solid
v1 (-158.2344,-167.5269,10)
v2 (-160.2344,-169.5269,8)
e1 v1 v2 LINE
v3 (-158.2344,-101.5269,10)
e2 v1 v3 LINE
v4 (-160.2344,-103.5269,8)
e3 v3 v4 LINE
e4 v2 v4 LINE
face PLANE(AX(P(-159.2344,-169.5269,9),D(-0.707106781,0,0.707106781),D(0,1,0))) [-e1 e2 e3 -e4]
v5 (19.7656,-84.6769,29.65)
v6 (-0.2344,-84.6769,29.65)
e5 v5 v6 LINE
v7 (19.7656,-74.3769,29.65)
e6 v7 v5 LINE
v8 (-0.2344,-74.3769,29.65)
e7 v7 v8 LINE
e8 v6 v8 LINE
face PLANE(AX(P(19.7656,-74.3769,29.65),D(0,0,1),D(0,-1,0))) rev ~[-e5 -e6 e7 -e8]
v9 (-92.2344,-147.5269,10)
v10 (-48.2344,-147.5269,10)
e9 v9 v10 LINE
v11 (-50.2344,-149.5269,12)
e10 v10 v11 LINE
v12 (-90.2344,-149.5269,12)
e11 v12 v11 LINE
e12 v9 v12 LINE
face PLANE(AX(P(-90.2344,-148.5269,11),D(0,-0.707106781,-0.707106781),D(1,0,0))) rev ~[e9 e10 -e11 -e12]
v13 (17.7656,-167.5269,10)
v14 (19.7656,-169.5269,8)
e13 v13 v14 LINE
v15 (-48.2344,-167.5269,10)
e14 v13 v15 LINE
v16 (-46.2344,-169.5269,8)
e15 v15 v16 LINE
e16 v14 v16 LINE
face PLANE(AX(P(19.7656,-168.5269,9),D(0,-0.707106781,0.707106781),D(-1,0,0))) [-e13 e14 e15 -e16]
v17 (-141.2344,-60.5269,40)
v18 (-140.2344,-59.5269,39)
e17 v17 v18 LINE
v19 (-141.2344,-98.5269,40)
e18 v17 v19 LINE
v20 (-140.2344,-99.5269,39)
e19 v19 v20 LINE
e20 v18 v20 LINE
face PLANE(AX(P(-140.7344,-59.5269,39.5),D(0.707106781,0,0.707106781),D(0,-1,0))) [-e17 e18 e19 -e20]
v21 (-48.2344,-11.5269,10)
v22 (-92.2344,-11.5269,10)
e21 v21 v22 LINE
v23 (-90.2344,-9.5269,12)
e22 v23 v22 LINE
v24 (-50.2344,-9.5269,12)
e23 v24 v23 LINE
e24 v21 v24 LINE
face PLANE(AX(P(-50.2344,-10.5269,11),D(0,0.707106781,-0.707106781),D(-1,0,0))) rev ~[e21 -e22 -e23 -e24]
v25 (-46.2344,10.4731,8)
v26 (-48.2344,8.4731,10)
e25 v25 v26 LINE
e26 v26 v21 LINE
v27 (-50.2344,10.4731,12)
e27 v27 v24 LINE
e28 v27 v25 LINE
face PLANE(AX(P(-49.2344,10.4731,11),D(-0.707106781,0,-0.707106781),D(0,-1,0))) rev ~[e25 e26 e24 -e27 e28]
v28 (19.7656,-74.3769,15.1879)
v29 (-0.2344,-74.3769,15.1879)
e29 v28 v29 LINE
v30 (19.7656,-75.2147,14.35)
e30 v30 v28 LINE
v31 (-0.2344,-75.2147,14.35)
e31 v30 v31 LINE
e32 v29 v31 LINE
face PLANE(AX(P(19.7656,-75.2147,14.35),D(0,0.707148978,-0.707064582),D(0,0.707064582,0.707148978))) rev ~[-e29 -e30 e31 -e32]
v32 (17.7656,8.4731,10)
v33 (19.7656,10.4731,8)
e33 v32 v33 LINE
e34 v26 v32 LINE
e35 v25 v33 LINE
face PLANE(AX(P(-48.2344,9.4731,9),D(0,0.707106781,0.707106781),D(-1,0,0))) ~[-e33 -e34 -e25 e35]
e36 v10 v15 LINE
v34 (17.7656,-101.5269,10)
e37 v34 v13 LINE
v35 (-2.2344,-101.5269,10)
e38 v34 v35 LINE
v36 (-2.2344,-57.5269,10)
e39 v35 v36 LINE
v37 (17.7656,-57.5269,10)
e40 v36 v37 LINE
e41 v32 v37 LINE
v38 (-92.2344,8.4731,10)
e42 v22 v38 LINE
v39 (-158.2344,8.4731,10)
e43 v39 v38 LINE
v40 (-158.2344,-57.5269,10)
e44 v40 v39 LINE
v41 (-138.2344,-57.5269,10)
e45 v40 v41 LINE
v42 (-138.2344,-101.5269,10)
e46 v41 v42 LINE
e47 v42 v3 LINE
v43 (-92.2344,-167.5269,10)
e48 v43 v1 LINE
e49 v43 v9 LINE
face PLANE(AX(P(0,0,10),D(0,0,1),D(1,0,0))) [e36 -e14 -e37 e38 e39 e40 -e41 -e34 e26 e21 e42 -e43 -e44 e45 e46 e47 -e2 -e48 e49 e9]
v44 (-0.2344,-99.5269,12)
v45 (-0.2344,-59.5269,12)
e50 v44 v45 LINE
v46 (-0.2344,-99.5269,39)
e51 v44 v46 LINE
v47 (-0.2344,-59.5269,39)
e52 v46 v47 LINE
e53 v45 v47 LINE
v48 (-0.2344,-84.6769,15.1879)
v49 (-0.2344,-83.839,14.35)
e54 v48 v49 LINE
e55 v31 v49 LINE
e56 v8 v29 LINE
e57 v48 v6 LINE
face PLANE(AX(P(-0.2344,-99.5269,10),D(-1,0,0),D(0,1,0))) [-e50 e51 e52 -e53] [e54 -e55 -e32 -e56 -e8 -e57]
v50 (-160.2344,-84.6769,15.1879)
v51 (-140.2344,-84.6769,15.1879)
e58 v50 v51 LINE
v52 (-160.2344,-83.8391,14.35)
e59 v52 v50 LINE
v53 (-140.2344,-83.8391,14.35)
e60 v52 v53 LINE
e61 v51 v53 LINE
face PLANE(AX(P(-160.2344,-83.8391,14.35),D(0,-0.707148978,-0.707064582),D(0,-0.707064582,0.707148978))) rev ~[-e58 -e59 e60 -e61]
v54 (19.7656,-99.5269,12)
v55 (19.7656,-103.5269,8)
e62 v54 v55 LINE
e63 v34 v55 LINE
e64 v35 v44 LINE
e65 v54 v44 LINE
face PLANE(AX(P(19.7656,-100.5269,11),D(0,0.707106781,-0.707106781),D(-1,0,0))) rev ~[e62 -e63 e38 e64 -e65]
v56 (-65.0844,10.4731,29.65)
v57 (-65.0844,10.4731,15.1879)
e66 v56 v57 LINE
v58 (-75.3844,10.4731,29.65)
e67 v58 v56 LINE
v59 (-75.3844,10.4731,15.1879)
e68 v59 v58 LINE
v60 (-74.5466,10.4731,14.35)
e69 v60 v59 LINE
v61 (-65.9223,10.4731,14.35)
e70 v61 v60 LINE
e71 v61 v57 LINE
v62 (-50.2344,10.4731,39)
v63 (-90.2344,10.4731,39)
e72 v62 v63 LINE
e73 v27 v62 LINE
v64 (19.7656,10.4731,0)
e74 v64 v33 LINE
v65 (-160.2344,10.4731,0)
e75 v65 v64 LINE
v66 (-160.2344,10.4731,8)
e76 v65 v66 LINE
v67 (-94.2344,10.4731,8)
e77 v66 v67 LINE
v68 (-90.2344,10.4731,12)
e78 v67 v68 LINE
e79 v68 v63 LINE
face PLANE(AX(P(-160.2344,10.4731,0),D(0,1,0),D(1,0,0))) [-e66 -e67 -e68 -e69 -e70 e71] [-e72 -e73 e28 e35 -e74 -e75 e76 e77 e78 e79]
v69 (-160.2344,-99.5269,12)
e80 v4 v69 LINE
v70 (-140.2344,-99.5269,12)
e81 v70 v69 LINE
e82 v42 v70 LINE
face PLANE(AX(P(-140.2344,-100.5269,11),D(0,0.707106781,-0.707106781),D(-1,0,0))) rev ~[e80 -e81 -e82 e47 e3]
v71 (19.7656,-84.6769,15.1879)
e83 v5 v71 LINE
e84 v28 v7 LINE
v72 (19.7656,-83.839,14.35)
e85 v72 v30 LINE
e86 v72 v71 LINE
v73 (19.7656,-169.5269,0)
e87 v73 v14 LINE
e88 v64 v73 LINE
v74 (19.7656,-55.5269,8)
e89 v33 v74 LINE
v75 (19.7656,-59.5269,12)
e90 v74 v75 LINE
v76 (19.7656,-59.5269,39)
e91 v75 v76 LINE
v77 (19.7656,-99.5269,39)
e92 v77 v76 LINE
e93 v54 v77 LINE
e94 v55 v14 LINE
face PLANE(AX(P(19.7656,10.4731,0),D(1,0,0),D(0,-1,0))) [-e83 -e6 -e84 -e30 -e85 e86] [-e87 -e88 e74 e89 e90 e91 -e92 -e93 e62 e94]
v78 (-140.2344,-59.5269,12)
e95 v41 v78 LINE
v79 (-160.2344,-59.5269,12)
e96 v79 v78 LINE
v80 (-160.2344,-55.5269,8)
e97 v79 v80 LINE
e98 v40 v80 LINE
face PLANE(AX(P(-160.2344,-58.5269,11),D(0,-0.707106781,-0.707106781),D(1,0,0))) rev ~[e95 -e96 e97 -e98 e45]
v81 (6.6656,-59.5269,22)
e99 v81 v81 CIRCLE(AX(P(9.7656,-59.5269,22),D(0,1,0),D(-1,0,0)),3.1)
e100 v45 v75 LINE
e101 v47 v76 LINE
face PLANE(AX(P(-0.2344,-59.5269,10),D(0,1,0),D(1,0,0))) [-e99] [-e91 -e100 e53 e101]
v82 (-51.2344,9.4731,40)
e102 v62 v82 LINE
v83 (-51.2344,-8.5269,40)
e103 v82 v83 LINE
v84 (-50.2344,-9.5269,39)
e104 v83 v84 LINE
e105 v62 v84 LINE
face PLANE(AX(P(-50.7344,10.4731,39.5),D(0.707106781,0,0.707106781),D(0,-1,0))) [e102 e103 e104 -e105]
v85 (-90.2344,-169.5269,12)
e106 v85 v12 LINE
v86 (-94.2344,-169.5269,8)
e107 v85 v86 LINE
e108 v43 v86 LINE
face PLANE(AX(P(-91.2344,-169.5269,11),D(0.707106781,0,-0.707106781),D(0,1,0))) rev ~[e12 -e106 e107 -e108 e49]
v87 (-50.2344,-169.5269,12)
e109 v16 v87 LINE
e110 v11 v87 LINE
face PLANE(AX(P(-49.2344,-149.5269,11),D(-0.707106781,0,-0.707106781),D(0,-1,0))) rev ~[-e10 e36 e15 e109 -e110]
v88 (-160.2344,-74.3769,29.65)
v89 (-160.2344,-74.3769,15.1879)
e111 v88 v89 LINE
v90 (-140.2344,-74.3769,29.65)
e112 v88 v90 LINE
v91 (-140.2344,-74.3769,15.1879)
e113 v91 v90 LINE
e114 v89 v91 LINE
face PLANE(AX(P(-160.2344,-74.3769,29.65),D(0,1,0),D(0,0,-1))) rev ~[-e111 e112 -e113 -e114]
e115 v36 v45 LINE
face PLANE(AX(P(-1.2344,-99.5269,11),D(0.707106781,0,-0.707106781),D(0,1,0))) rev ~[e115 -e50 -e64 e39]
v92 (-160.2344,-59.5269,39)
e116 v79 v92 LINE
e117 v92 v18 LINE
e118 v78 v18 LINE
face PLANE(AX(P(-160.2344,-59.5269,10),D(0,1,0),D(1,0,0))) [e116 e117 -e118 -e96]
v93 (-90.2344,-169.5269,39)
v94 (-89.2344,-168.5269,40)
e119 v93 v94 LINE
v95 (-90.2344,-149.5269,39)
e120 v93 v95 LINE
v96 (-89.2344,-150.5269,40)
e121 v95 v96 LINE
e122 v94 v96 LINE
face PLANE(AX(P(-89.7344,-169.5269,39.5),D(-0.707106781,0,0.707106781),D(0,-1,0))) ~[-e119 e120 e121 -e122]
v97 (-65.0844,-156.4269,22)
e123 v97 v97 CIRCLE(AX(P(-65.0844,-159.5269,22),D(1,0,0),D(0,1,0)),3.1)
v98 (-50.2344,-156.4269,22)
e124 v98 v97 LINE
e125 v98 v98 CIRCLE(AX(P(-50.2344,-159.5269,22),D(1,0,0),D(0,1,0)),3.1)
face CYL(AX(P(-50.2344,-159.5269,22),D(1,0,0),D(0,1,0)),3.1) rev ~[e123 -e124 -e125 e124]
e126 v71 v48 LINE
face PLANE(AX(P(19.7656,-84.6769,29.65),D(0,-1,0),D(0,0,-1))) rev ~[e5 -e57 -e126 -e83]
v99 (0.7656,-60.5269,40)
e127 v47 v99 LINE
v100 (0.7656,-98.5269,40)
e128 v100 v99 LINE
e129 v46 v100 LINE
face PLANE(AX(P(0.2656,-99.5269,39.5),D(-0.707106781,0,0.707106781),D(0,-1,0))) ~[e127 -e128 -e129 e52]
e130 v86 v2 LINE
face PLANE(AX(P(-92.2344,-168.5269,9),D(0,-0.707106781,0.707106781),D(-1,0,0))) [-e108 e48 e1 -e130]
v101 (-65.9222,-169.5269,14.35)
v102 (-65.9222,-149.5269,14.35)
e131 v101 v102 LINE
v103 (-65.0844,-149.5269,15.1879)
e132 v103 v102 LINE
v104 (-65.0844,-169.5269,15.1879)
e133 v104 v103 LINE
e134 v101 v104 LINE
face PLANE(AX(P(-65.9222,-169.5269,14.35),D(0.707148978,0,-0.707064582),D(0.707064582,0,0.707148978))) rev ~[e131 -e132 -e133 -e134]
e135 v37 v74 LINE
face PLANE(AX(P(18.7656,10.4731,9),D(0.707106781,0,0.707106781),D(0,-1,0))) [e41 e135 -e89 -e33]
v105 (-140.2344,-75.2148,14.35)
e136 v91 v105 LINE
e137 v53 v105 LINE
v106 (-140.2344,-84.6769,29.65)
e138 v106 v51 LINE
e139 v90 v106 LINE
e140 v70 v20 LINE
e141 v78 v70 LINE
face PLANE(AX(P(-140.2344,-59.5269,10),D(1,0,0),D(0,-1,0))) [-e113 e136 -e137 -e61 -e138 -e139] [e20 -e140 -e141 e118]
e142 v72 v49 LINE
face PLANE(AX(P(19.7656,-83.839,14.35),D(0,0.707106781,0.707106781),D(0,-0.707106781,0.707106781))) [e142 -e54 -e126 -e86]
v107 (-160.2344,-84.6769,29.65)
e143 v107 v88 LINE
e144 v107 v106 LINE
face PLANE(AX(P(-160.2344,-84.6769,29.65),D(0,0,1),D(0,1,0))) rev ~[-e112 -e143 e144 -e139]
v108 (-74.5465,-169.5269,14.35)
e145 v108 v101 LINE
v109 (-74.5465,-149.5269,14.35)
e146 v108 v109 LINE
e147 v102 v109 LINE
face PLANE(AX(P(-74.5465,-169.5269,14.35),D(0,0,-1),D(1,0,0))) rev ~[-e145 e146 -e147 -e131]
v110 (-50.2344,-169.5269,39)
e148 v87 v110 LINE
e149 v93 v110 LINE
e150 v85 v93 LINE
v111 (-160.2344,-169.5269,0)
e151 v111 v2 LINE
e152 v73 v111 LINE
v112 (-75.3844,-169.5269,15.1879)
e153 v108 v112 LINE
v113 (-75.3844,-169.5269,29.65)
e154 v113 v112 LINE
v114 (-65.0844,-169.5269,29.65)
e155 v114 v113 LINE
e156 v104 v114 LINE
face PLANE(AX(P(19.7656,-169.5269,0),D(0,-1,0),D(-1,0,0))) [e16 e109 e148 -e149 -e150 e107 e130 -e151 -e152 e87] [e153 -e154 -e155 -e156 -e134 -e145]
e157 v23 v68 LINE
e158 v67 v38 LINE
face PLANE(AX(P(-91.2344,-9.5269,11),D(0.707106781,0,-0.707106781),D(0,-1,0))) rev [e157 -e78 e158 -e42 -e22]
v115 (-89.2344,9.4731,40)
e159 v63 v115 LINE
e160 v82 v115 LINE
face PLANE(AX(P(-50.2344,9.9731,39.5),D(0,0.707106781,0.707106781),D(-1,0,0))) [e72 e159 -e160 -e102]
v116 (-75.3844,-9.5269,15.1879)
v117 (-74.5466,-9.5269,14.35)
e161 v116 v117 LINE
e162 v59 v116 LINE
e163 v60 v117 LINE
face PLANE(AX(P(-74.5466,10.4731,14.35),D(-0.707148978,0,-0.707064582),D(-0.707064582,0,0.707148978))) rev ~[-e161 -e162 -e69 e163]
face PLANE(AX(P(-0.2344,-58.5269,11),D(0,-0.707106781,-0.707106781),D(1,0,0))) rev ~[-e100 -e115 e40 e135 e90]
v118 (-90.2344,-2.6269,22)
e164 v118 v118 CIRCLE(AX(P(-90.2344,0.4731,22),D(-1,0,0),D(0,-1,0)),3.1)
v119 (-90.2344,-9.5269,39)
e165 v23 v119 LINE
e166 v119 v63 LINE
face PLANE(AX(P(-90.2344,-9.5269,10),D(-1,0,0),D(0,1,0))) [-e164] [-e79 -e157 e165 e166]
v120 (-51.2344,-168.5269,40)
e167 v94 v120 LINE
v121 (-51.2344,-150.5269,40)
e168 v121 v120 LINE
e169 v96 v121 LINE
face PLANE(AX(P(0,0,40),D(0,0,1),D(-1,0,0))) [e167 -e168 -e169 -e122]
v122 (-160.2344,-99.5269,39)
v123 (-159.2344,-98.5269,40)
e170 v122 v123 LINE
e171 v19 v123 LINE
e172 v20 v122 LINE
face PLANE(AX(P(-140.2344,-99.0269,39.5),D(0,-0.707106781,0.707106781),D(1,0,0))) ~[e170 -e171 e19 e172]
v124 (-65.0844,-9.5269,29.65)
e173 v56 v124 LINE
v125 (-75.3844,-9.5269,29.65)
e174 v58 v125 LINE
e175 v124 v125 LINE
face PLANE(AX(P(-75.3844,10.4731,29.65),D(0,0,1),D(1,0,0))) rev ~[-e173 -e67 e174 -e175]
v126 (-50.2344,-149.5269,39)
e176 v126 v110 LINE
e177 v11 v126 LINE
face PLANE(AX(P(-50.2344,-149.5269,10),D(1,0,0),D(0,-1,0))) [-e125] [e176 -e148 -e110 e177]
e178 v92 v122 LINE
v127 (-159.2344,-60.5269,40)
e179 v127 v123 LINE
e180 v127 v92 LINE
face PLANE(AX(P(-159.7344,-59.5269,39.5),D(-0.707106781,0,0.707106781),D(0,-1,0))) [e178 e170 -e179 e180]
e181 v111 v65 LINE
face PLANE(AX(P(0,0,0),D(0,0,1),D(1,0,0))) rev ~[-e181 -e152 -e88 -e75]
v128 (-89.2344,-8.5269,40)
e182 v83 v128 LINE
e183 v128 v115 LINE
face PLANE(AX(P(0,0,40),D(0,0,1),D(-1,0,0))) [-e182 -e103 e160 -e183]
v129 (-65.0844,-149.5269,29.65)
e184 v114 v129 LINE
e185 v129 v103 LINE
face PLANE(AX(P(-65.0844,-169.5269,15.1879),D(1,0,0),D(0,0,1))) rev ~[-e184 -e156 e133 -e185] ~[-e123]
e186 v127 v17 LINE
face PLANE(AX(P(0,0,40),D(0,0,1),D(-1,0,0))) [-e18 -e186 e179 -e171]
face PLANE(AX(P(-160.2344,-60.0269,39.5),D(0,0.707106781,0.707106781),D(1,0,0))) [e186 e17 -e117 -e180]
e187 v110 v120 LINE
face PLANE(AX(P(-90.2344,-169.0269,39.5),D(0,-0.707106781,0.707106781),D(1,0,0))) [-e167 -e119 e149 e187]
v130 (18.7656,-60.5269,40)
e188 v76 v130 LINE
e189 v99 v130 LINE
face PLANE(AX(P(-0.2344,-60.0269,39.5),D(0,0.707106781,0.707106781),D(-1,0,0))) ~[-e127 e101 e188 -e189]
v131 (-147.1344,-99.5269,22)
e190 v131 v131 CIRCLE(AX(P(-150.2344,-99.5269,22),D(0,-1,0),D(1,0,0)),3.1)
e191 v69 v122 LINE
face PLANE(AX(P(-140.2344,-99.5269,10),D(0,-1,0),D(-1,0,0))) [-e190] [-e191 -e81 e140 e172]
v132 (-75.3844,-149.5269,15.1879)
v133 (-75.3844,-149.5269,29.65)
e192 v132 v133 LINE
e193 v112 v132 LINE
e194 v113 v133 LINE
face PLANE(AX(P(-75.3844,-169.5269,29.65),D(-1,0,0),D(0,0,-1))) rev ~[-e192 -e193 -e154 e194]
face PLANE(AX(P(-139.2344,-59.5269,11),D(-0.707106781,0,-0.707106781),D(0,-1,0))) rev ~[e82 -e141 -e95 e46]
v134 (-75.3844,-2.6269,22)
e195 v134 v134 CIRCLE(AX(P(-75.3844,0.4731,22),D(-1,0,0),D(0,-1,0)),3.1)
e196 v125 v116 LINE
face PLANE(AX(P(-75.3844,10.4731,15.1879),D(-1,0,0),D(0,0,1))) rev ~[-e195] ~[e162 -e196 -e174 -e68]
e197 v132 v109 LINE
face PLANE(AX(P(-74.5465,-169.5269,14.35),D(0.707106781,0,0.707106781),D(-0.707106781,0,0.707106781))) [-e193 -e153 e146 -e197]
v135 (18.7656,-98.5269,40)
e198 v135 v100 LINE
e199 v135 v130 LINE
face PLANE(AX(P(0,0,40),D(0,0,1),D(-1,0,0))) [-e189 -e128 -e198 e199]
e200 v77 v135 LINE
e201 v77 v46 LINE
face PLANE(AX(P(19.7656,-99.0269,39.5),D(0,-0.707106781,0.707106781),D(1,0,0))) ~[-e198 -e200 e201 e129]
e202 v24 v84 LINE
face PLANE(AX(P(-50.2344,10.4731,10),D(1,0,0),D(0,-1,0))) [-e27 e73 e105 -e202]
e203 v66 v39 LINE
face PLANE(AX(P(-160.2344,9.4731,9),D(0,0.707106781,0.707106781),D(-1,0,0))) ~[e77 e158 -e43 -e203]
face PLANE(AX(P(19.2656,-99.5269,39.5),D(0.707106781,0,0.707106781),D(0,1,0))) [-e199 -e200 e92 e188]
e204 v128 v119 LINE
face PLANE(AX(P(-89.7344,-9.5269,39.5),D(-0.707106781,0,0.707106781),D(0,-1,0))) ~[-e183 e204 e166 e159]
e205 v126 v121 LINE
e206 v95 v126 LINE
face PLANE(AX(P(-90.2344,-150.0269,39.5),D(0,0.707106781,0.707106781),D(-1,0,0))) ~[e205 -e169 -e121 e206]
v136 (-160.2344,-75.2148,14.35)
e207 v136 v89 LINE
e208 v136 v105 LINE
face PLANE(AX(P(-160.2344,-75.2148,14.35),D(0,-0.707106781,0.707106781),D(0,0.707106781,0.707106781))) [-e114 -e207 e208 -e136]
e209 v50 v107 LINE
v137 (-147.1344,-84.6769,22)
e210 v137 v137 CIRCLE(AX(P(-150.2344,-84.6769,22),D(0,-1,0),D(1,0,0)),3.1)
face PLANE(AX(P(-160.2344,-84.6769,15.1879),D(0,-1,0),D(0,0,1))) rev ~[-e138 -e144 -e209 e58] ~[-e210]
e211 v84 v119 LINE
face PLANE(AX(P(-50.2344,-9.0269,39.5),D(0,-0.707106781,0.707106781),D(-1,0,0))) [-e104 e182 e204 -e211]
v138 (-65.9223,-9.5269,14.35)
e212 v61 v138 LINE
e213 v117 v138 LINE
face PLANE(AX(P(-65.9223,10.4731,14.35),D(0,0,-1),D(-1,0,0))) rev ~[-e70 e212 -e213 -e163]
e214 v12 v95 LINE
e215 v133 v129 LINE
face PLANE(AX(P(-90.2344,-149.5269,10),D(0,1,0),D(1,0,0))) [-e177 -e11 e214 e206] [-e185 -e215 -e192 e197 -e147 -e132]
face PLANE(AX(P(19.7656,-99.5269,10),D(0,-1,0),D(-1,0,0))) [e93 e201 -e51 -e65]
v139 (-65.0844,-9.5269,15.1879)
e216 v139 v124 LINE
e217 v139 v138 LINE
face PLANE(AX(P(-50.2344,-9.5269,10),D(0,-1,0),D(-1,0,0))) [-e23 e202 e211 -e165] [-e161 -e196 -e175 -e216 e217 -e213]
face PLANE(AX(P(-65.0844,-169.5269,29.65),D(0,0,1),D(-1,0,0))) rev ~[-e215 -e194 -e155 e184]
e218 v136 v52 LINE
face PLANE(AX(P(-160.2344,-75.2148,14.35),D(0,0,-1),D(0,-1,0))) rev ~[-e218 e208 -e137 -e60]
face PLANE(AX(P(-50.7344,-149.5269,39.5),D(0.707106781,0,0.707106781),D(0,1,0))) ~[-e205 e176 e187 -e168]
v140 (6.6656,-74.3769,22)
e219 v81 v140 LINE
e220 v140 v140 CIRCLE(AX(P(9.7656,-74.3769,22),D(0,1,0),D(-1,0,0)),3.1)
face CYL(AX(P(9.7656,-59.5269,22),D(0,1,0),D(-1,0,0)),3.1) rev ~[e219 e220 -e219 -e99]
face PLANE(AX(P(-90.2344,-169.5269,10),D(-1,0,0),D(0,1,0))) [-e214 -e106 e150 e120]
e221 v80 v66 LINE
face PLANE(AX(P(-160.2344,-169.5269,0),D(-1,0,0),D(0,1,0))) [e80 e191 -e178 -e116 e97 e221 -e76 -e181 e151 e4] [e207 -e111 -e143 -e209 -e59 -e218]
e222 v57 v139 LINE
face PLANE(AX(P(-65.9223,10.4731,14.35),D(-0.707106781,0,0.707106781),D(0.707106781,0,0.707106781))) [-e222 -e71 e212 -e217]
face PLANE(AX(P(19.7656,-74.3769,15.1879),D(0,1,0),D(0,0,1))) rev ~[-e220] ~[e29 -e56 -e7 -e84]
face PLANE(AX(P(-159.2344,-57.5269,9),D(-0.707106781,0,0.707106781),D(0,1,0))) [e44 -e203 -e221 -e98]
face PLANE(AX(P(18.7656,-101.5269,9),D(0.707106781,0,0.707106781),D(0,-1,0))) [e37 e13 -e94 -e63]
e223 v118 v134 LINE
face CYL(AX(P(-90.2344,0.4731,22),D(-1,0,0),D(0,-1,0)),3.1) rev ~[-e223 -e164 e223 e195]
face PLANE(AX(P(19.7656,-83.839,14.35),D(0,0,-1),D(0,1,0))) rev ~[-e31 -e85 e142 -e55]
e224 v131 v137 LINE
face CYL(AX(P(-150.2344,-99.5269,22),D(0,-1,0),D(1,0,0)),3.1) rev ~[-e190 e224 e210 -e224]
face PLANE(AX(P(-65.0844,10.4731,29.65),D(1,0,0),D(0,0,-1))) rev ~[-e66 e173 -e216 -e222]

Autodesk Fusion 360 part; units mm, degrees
sketch "Sketch1" plane through (0, 0, 0) normal (0, 0, 1) x (1, 0, 0)
  line L0 (-160.2344, 10.4731) -> (19.7656, 10.4731)
  line L1 (19.7656, 10.4731) -> (19.7656, -169.5269)
  line L2 (19.7656, -169.5269) -> (-160.2344, -169.5269)
  line L3 (-160.2344, -169.5269) -> (-160.2344, 10.4731)
  dimension "d1" = 180
  dimension "d2" = 180
extrude "Extrude1" add sketch "Sketch1" along normal blind 10
sketch "Sketch2" plane through (0, 0, 10) normal (0, 0, 1) x (-1, 0, 0)
  line L0 (160.2344, 169.5269) -> (-19.7656, 169.5269)
  line L1 (-19.7656, 169.5269) -> (-19.7656, -10.4731)
  line L2 (-19.7656, -10.4731) -> (160.2344, -10.4731)
  line L3 (160.2344, -10.4731) -> (160.2344, 169.5269)
  line L4 (160.2344, 59.5269) -> (140.2344, 59.5269)
  line L5 (140.2344, 59.5269) -> (140.2344, 99.5269)
  line L6 (140.2344, 99.5269) -> (160.2344, 99.5269)
  line L7 (160.2344, 99.5269) -> (160.2344, 59.5269)
  line L8 (0.2344, 59.5269) -> (-19.7656, 59.5269)
  line L9 (-19.7656, 59.5269) -> (-19.7656, 99.5269)
  line L10 (-19.7656, 99.5269) -> (0.2344, 99.5269)
  line L11 (0.2344, 99.5269) -> (0.2344, 59.5269)
  line L12 (90.2344, -10.4731) -> (50.2344, -10.4731)
  line L13 (50.2344, -10.4731) -> (50.2344, 9.5269)
  line L14 (50.2344, 9.5269) -> (90.2344, 9.5269)
  line L15 (90.2344, 9.5269) -> (90.2344, -10.4731)
  line L16 (90.2344, 149.5269) -> (50.2344, 149.5269)
  line L17 (50.2344, 149.5269) -> (50.2344, 169.5269)
  line L18 (50.2344, 169.5269) -> (90.2344, 169.5269)
  line L19 (90.2344, 169.5269) -> (90.2344, 149.5269)
  dimension "d5" = 20
  dimension "d6" = 20
  dimension "d7" = 20
  dimension "d8" = 20
  dimension "d9" = 40
  dimension "d10" = 40
  dimension "d11" = 40
  dimension "d12" = 40
  dimension "d13" = 70
  dimension "d14" = 70
  dimension "d15" = 70
  dimension "d16" = 70
extrude "Extrude2" add sketch "Sketch2" along normal blind 30 contours L0 L16 L17 L18 L19 | L3 L4 L5 L6 L7 | L1 L8 L9 L10 L11 | L2 L12 L13 L14 L15
sketch "Sketch3" plane through (19.7656, 0, 0) normal (1, 0, 0) x (0, 1, 0)
  line L0 (-169.5269, 0) -> (10.4731, 0)
  line L1 (10.4731, 0) -> (10.4731, 10)
  line L2 (10.4731, 10) -> (-59.5269, 10)
  line L3 (-59.5269, 10) -> (-59.5269, 40)
  line L4 (-59.5269, 40) -> (-99.5269, 40)
  line L5 (-99.5269, 40) -> (-99.5269, 10)
  line L6 (-99.5269, 10) -> (-169.5269, 10)
  line L7 (-169.5269, 10) -> (-169.5269, 0)
  circle A0 centre (-79.5269, 22) radius 6 construction
  line L8 (-74.5269, 29.5) -> (-84.5269, 29.5) construction
  line L9 (-84.5269, 29.5) -> (-84.5269, 15.25) construction
  line L10 (-83.7769, 14.5) -> (-75.2769, 14.5) construction
  line L11 (-74.5269, 15.25) -> (-74.5269, 29.5) construction
  line L12 (-74.5269, 29.5) -> (-84.5269, 14.5) construction
  line L13 (-84.5269, 29.5) -> (-74.5269, 14.5) construction
  line L14 (-83.7769, 14.5) -> (-84.5269, 15.25)
  line L15 (-75.2769, 14.5) -> (-74.5269, 15.25)
  line L16 (-83.839, 14.35) -> (-75.2147, 14.35)
  line L17 (-75.2147, 14.35) -> (-74.3769, 15.1879)
  line L18 (-74.3769, 15.1879) -> (-74.3769, 29.65)
  line L19 (-74.3769, 29.65) -> (-84.6769, 29.65)
  line L20 (-84.6769, 29.65) -> (-84.6769, 15.1879)
  line L21 (-83.839, 14.35) -> (-84.6769, 15.1879)
  point P0 (-79.5269, 22)
  dimension "d19" = 12
  dimension "d20" = 18
  dimension "d21" = 20
  dimension "d36" = 10
  dimension "d37" = 15
  dimension "d38" = 0.15
  dimension "d39" = 0.75
  dimension "d40" = 0.75
  dimension "d41" = 0.75
  dimension "d42" = 0.75
extrude "Extrude3" cut sketch "Sketch3" against normal blind 30 contours L16 L17 L18 L19 L20 L21
ref_plane "WorkPlane1" through (-70.2344, -79.5269, 20) normal (0, -1, 0) x (1, 0, 0)
ref_plane "WorkPlane2" through (-70.2344, -79.5269, 20) normal (1, 0, 0) x (0, 1, 0)
pattern_circular "C-Pattern1" count 4 over 360 about axis through (-70.2344, -79.5269, -13.6) along (0, 0, 1) of "Extrude3"
sketch "Sketch4" plane through (0, -59.5269, 0) normal (0, 1, 0) x (-1, 0, 0)
  line L0 (-19.7656, 10) -> (0.2344, 10)
  line L1 (0.2344, 10) -> (0.2344, 40)
  line L2 (0.2344, 40) -> (-19.7656, 40)
  line L3 (-19.7656, 40) -> (-19.7656, 10)
  circle A0 centre (-9.7656, 22) radius 3.1
  dimension "d26" = 6.2
  dimension "d27" = 18
  dimension "d28" = 10
extrude "Extrude4" cut sketch "Sketch4" against normal blind 20 contours A0
pattern_circular "C-Pattern2" count 4 over 360 about axis through (-70.2344, -79.5269, -13.6) along (0, 0, 1) of "Extrude4"
chamfer "Chamfer1" distance 1 angle 45 16 edges at (-0.2344, -79.5269, 40) (9.7656, -99.5269, 40) (19.7656, -79.5269, 40) (9.7656, -59.5269, 40) (-70.2344, 10.4731, 40) (-70.2344, -9.5269, 40) (-50.2344, 0.4731, 40) (-90.2344, 0.4731, 40) (-150.2344, -59.5269, 40) (-140.2344, -79.5269, 40) (-160.2344, -79.5269, 40) (-150.2344, -99.5269, 40) (-90.2344, -159.5269, 40) (-70.2344, -149.5269, 40) (-70.2344, -169.5269, 40) (-50.2344, -159.5269, 40)
chamfer "Chamfer2" distance 2 angle 45 12 edges at (-140.2344, -79.5269, 10) (-150.2344, -99.5269, 10) (-150.2344, -59.5269, 10) (-70.2344, -149.5269, 10) (-90.2344, -159.5269, 10) (-90.2344, 0.4731, 10) (-70.2344, -9.5269, 10) (-0.2344, -79.5269, 10) (9.7656, -99.5269, 10) (-50.2344, -159.5269, 10) (9.7656, -59.5269, 10) (-50.2344, 0.4731, 10)
chamfer "Chamfer3" distance 2 angle 45 8 edges at (-126.2344, 10.4731, 10) (-160.2344, -23.5269, 10) (19.7656, -23.5269, 10) (19.7656, -135.5269, 10) (-14.2344, -169.5269, 10) (-14.2344, 10.4731, 10) (-126.2344, -169.5269, 10) (-160.2344, -135.5269, 10)
equation "d40 = d39"
equation "d42 = d41"
